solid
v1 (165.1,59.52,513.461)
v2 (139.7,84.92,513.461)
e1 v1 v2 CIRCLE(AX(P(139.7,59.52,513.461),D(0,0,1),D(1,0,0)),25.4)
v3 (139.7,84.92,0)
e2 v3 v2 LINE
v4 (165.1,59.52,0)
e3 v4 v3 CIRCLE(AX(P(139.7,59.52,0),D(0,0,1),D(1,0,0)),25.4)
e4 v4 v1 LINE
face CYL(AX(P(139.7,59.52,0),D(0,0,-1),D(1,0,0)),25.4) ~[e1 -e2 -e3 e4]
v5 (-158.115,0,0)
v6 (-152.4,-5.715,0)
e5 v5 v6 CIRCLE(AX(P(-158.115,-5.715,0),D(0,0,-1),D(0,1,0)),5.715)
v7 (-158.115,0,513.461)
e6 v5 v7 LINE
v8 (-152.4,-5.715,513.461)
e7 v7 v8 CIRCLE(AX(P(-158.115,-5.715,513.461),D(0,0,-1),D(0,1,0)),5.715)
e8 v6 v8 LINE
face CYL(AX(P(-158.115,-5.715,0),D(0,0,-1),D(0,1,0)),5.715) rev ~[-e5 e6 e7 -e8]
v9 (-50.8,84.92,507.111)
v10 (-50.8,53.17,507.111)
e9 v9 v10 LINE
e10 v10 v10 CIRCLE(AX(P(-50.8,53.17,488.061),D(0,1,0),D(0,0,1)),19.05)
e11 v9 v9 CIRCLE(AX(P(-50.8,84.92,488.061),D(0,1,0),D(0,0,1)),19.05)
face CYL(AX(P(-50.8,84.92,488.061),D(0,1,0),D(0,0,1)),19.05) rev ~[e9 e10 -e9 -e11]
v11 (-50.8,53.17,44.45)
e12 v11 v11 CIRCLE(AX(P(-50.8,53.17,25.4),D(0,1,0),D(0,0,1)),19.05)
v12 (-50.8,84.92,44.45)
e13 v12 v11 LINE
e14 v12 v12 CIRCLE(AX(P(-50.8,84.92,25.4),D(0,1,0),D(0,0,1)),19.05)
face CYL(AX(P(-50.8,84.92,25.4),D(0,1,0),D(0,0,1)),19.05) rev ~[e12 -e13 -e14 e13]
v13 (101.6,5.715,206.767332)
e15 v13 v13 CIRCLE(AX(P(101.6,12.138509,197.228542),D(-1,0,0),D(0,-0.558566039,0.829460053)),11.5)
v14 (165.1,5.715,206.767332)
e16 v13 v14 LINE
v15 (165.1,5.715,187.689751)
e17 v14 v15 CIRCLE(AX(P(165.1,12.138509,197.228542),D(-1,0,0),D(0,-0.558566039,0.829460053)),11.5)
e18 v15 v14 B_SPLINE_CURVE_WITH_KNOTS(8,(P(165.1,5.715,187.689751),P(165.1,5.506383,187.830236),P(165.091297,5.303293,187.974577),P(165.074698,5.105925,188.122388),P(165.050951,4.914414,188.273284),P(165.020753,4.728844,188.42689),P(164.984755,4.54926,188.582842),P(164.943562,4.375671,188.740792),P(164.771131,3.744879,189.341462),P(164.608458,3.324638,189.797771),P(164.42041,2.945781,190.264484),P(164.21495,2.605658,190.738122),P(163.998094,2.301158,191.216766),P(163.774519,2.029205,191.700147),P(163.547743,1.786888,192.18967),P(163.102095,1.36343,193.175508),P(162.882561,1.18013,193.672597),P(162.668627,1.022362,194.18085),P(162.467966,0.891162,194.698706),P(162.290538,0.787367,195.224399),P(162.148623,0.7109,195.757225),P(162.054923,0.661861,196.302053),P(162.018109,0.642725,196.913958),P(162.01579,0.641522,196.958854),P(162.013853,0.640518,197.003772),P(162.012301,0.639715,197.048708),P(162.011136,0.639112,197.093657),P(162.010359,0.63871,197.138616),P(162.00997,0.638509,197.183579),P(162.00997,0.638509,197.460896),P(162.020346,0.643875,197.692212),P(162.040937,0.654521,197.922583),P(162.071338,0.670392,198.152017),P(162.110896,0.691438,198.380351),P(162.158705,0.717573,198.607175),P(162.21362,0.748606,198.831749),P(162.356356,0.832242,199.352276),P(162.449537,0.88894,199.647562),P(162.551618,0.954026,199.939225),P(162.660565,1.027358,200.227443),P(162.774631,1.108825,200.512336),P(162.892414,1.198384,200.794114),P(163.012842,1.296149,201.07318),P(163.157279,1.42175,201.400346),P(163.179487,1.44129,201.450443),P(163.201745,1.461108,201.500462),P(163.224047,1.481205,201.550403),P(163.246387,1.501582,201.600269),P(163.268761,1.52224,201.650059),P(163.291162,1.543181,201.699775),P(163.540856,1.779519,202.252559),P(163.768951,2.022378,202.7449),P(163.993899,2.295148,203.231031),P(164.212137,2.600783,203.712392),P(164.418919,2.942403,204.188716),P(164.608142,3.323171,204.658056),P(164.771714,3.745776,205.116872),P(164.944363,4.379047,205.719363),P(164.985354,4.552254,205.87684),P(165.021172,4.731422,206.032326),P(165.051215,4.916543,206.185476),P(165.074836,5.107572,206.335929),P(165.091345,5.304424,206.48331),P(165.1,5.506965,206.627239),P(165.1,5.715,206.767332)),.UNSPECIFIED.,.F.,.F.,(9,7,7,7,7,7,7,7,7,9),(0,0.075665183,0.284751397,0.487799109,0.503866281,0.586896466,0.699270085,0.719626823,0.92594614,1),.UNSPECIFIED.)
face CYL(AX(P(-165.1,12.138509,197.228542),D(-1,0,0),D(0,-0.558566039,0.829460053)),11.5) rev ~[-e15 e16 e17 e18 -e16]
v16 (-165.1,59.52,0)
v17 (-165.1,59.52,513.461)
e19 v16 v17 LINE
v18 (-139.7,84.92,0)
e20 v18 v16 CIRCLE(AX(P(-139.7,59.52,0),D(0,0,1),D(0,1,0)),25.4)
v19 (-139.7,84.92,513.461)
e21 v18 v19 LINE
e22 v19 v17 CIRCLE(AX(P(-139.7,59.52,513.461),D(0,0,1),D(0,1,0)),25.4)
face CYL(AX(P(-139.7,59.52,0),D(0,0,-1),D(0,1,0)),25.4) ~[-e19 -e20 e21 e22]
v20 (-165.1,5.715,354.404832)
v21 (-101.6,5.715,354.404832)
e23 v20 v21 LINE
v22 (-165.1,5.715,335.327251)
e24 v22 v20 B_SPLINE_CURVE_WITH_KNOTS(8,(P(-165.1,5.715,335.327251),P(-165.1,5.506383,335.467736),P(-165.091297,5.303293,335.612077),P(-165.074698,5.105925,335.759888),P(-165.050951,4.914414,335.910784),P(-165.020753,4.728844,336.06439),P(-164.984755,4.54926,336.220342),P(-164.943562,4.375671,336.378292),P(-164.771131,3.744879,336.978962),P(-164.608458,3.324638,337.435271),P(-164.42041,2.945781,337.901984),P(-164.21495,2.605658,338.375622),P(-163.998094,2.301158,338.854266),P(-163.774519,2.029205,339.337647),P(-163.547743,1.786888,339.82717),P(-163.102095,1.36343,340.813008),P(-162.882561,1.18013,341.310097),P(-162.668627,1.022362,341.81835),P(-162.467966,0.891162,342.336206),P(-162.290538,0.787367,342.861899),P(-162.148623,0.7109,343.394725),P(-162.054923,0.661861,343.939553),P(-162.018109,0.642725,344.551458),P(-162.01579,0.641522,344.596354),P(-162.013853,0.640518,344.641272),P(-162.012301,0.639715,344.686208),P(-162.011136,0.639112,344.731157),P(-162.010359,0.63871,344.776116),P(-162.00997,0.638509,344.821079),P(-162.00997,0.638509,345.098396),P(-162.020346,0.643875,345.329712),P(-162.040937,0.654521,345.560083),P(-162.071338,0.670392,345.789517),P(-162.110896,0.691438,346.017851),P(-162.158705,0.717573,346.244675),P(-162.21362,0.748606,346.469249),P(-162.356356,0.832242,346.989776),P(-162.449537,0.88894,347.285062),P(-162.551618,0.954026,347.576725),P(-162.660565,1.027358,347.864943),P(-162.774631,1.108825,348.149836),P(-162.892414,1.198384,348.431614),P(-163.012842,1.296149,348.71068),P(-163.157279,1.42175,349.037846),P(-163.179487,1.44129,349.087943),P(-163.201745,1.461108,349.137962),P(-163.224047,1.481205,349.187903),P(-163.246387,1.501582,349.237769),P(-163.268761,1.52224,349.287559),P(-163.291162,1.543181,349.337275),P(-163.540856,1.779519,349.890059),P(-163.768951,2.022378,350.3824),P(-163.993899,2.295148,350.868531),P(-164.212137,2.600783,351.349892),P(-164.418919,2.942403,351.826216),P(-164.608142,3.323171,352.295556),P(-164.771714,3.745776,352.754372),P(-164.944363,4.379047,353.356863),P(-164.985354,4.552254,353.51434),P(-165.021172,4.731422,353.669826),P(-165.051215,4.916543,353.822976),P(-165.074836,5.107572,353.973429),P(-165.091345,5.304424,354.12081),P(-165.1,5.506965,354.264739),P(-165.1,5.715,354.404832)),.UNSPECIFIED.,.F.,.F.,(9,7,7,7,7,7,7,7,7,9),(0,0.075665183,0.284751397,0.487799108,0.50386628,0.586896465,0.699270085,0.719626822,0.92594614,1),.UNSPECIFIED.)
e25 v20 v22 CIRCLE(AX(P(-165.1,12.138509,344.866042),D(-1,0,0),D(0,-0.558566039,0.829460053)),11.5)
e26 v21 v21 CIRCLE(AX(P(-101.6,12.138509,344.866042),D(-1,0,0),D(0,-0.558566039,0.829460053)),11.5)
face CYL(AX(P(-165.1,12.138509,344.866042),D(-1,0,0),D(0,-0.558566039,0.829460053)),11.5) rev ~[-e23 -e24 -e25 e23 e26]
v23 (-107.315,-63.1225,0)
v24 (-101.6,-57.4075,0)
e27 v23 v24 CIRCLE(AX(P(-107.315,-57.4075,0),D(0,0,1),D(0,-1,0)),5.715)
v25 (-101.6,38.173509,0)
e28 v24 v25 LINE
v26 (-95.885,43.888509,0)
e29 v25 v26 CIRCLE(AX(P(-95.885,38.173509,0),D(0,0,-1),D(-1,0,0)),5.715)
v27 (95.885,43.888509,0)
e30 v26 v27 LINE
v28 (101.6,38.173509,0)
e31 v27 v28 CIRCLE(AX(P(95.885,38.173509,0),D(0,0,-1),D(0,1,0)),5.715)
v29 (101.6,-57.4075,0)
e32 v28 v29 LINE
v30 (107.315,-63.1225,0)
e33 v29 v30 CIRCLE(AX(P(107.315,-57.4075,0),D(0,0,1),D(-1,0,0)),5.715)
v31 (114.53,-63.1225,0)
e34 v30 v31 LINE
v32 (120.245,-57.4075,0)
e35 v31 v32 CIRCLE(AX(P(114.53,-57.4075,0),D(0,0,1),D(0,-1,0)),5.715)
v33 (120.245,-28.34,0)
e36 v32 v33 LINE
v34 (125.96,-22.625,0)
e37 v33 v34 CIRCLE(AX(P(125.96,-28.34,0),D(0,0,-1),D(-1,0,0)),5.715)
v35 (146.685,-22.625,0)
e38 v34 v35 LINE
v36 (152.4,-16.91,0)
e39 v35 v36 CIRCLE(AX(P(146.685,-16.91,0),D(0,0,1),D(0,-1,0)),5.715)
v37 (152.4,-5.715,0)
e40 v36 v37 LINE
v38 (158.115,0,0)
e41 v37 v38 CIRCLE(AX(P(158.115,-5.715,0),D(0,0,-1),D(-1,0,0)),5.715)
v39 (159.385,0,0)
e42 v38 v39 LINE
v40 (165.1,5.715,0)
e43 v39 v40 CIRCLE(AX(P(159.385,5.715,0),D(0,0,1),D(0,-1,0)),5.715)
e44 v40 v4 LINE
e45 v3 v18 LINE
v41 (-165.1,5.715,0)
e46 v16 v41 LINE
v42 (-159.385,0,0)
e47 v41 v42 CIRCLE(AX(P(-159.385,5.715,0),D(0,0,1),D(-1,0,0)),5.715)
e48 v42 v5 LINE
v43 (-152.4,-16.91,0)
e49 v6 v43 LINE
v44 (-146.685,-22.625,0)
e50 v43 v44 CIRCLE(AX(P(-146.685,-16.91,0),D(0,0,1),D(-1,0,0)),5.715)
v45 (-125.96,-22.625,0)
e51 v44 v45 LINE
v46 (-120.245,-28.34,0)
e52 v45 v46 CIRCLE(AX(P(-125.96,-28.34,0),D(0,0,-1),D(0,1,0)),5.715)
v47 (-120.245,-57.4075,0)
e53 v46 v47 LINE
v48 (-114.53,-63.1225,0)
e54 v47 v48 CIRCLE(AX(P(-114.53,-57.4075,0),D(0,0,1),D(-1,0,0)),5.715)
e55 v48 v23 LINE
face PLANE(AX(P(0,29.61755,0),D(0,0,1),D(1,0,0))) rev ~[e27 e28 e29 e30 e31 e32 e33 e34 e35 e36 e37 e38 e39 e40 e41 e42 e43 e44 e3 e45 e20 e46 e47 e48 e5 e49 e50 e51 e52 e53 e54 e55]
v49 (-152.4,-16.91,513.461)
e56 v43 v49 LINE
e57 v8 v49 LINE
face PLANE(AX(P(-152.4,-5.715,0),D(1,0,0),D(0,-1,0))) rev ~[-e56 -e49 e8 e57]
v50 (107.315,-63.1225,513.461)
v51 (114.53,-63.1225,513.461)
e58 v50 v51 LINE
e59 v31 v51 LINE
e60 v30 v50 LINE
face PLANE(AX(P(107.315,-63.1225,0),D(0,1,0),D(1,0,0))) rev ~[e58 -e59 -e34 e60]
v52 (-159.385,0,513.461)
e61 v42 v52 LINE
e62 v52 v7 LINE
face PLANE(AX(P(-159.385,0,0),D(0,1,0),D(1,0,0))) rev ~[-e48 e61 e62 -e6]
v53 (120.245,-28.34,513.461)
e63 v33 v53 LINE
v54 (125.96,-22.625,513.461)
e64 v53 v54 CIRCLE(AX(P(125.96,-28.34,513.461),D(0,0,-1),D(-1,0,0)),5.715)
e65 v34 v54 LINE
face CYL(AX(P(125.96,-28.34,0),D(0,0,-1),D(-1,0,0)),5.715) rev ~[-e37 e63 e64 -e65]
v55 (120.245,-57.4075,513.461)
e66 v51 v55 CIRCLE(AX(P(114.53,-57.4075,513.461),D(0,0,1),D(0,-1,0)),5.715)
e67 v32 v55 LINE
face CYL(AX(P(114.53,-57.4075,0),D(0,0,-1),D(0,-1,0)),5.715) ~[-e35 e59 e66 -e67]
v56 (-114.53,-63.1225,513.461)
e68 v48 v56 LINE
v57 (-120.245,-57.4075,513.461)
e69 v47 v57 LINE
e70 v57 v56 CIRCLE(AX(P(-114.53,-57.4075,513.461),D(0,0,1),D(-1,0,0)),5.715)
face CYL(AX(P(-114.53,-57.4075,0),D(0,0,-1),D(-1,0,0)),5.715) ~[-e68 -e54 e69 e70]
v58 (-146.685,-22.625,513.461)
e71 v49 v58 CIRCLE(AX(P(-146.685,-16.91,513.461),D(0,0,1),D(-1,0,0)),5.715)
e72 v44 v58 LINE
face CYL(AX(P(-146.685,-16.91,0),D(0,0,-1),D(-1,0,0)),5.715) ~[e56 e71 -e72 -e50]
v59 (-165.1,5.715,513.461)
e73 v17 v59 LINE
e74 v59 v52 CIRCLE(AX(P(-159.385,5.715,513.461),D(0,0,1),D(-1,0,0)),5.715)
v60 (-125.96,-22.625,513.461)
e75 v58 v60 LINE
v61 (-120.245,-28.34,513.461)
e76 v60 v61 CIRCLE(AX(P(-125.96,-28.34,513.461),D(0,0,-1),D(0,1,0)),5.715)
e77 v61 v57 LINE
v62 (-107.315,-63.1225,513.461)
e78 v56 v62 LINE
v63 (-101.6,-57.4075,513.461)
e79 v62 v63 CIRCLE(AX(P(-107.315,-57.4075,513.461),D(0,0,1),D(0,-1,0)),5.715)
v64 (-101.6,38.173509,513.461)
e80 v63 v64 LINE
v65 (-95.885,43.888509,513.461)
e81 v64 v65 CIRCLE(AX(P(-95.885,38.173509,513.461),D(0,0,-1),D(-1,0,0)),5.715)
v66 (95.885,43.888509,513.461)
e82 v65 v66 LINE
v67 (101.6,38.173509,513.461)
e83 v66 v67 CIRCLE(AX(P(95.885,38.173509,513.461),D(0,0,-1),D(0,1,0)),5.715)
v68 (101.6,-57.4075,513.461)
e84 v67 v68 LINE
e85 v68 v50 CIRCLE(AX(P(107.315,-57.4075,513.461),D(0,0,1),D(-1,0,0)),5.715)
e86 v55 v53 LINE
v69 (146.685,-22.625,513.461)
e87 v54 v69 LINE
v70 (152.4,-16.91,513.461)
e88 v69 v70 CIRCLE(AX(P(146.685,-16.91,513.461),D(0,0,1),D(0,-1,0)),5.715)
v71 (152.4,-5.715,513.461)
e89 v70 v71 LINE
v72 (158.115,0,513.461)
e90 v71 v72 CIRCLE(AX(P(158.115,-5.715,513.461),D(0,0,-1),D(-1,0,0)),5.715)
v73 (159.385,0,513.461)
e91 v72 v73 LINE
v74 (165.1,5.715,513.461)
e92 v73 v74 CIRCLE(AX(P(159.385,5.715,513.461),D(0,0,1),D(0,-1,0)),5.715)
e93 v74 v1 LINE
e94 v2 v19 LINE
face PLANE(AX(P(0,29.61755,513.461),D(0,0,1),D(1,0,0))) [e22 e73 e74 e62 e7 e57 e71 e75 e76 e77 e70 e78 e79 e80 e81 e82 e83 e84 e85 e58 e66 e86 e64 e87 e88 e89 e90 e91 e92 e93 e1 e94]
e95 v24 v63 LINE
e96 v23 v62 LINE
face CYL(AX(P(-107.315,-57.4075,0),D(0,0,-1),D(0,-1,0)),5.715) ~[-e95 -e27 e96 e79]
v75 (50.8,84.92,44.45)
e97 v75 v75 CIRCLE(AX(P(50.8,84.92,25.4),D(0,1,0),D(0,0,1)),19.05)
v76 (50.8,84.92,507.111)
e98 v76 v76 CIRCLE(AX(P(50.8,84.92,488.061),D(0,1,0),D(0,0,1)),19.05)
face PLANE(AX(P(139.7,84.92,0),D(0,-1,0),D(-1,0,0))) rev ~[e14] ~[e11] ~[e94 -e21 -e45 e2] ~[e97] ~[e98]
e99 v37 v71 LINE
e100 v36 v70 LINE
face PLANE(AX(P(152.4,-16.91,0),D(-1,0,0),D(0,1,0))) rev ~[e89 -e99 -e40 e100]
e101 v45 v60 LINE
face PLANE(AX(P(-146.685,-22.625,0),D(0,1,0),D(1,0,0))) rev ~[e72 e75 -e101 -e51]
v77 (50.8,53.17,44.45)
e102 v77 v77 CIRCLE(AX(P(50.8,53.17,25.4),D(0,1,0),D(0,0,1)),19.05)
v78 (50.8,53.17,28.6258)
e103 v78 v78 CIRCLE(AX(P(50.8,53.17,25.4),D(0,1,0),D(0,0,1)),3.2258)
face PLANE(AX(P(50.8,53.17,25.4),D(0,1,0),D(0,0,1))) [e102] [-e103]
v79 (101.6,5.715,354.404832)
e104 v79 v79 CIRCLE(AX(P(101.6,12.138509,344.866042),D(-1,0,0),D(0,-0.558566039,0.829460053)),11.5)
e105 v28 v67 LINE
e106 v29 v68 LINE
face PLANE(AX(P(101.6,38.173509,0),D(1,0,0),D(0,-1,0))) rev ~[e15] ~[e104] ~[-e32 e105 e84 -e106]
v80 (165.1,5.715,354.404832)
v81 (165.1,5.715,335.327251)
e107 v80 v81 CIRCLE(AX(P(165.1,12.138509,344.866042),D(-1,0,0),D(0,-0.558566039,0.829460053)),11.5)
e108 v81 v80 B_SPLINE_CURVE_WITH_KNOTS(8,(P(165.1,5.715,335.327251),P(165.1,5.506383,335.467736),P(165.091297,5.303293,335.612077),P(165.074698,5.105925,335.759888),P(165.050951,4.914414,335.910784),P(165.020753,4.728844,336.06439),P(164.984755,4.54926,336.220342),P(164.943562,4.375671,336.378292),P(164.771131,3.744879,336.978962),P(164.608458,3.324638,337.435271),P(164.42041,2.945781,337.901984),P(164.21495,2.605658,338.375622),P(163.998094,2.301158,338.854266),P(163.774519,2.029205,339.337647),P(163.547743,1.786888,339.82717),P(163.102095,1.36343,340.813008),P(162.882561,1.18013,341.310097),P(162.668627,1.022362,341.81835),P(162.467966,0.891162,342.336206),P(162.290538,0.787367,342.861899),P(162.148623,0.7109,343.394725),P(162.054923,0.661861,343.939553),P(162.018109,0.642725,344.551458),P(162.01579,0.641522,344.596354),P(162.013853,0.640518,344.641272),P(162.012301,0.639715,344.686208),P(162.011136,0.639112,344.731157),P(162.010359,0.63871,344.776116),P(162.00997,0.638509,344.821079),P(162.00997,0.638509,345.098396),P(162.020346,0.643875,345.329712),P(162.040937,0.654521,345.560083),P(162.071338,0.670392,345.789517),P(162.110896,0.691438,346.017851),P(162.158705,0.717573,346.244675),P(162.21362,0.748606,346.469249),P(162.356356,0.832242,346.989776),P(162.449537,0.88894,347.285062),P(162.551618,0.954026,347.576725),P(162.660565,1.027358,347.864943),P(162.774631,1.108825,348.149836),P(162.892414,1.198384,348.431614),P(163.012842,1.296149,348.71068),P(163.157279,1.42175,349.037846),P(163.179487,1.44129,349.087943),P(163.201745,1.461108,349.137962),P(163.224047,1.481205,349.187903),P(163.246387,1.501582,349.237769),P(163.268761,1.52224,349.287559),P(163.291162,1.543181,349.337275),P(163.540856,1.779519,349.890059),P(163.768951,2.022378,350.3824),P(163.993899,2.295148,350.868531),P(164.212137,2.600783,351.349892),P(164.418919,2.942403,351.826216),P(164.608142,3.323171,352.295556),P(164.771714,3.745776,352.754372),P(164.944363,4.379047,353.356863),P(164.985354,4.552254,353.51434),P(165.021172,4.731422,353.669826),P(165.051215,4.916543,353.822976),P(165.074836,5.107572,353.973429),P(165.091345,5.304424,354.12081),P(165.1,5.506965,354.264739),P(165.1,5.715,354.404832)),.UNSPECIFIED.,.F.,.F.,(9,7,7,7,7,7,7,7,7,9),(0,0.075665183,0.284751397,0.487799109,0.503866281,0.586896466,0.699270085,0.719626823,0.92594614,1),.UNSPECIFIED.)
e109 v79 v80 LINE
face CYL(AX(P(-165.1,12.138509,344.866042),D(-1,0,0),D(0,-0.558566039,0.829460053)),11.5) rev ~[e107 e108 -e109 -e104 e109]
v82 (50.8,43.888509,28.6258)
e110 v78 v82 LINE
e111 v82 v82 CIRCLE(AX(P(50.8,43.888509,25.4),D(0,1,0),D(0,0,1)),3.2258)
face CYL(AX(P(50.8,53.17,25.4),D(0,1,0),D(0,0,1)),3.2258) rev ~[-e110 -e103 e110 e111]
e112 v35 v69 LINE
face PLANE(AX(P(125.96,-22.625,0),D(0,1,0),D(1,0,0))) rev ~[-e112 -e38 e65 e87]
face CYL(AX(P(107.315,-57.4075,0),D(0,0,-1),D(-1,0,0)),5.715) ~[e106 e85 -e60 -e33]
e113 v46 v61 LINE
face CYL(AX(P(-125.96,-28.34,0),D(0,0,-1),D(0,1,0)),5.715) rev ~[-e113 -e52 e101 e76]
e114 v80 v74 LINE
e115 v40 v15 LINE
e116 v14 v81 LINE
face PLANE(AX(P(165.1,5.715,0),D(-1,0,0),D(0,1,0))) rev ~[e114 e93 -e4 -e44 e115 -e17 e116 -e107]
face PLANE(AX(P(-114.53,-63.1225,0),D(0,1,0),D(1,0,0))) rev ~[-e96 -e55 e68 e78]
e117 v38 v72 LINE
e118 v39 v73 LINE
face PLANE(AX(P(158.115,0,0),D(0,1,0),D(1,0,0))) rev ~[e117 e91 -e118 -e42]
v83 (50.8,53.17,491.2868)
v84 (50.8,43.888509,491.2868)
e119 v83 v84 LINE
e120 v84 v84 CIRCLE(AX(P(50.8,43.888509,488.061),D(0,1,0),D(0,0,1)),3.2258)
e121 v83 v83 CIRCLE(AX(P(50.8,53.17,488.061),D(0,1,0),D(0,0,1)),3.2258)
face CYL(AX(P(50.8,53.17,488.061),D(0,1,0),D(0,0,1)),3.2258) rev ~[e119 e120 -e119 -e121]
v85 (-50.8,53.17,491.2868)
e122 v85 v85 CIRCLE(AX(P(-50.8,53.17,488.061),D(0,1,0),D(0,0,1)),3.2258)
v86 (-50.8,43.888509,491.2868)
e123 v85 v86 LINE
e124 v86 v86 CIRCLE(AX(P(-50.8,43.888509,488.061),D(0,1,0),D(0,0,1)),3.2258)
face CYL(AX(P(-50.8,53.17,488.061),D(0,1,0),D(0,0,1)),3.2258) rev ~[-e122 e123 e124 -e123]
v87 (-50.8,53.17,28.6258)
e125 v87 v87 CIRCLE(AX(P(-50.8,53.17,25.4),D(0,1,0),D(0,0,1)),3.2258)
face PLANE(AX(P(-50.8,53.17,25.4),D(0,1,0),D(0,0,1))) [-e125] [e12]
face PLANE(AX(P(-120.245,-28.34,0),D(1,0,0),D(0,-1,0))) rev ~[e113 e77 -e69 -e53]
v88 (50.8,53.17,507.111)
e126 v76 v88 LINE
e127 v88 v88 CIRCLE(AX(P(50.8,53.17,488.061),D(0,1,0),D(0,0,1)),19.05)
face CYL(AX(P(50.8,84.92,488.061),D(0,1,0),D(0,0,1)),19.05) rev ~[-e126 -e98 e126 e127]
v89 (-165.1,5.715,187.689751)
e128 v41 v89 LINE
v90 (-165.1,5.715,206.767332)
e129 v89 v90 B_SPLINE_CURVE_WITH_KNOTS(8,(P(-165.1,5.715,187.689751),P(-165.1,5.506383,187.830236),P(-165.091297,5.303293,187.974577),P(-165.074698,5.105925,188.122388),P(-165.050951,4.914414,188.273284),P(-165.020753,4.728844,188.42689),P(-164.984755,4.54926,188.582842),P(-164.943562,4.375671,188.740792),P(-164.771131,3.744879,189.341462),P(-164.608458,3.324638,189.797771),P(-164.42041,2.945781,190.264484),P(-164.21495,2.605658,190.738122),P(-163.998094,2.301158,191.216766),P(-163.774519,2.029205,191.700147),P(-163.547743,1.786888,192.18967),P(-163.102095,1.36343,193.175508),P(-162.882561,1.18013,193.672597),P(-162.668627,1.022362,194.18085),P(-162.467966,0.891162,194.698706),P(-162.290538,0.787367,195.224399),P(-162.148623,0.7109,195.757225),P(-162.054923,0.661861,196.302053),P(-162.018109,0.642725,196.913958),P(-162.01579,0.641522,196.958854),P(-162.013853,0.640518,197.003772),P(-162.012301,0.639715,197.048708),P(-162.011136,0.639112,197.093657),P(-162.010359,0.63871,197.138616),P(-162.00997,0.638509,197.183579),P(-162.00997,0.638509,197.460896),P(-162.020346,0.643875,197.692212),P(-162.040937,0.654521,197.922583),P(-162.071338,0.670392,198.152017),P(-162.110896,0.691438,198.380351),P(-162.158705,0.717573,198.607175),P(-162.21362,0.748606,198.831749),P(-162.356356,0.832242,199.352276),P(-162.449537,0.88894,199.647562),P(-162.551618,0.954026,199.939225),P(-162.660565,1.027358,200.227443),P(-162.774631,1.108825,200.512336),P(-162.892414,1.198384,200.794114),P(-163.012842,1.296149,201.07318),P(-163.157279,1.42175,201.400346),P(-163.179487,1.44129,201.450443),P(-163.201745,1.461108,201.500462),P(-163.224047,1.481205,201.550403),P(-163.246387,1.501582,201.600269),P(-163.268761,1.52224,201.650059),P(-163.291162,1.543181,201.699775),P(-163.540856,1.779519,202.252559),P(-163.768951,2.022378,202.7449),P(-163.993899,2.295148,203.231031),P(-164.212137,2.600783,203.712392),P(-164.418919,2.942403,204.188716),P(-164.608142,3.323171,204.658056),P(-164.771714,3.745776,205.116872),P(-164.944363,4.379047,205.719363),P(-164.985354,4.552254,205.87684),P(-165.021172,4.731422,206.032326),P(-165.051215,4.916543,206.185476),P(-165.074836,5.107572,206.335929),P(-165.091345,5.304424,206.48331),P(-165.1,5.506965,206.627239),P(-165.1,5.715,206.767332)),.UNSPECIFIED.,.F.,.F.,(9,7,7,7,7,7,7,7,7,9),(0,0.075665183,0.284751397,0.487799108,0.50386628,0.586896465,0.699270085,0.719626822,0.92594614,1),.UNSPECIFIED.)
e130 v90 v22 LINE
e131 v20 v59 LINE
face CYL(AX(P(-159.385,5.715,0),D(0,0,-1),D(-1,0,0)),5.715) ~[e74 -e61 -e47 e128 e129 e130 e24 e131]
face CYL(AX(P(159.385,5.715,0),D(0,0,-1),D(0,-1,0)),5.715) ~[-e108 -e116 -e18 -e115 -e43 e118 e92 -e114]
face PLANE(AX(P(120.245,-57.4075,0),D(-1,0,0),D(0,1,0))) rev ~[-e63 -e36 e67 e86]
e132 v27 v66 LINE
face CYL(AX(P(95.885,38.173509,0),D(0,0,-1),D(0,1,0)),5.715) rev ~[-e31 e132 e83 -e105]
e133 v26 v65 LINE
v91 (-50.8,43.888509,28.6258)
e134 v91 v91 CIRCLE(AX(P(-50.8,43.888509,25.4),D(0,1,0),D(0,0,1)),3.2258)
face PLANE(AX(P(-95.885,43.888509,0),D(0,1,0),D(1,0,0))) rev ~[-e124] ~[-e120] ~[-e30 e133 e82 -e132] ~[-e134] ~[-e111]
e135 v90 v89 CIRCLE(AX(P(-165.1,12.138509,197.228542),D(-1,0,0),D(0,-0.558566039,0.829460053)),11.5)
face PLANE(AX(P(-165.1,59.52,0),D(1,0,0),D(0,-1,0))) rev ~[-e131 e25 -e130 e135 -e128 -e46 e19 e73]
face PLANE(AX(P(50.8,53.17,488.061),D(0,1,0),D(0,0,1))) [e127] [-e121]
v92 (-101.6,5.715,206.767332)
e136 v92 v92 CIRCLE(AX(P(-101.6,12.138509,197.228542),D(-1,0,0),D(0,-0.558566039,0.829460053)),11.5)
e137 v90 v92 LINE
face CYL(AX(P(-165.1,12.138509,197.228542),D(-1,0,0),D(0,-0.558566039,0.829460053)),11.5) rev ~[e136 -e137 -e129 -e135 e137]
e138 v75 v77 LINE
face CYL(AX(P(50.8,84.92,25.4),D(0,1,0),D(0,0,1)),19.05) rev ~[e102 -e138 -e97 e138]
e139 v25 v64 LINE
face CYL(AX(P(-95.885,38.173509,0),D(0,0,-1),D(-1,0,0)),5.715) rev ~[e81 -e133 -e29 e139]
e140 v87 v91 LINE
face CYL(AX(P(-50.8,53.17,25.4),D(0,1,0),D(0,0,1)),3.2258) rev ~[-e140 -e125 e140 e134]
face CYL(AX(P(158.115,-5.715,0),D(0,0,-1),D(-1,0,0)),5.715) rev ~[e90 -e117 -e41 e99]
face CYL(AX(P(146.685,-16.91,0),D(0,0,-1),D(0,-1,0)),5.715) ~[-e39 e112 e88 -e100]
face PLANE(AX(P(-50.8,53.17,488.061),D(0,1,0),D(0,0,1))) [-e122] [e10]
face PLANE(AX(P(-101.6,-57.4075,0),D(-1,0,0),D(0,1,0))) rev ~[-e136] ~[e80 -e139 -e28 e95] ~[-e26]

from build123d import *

# Parameters (mm, degrees)
BOSS_EXTRUDE1_DEPTH = 513.461
SKETCH2_R           = 19.05
CUT_EXTRUDE1_DEPTH  = 31.75
SKETCH3_R           = 3.2258
CUT_EXTRUDE2_DEPTH  = 31.75
SKETCH4_R           = 11.500000003
CUT_EXTRUDE3_DEPTH  = 499.872


with BuildPart() as part:
    # Sketch1 → Boss-Extrude1 (new body)
    with BuildSketch(Plane.XY):
        with BuildLine():
            ThreePointArc((-165.1, 5.715), (-163.426115254, 1.673884746), (-159.385, 0))
            Line((-159.385, 0), (-158.115, 0))
            ThreePointArc((-158.115, 0), (-154.073884746, -1.673884746), (-152.4, -5.715))
            Line((-152.4, -5.715), (-152.4, -16.91))
            ThreePointArc((-152.4, -16.91), (-150.726115254, -20.951115254), (-146.685, -22.625))
            Line((-146.685, -22.625), (-125.96, -22.625))
            ThreePointArc((-125.96, -22.625), (-121.918884746, -24.298884746), (-120.245, -28.34))
            Line((-120.245, -28.34), (-120.245, -57.40750012))
            ThreePointArc((-120.245, -57.40750012), (-118.571115254, -61.448615374), (-114.53, -63.12250012))
            Line((-114.53, -63.12250012), (-107.315, -63.12250012))
            ThreePointArc((-107.315, -63.12250012), (-103.273884746, -61.448615374), (-101.6, -57.40750012))
            Line((-101.6, -57.40750012), (-101.6, 0))
            Line((-101.6, 0), (-101.6, 38.17350945))
            ThreePointArc((-101.6, 38.17350945), (-99.926115254, 42.214624704), (-95.885, 43.88850945))
            Line((-95.885, 43.88850945), (95.885, 43.88850945))
            ThreePointArc((95.885, 43.88850945), (99.926115254, 42.214624704), (101.6, 38.17350945))
            Line((101.6, 38.17350945), (101.6, 0))
            Line((101.6, 0), (101.6, -57.40750012))
            ThreePointArc((101.6, -57.40750012), (103.273884746, -61.448615374), (107.315, -63.12250012))
            Line((107.315, -63.12250012), (114.53, -63.12250012))
            ThreePointArc((114.53, -63.12250012), (118.571115254, -61.448615374), (120.245, -57.40750012))
            Line((120.245, -57.40750012), (120.245, -28.34))
            ThreePointArc((120.245, -28.34), (121.918884746, -24.298884746), (125.96, -22.625))
            Line((125.96, -22.625), (146.685, -22.625))
            ThreePointArc((146.685, -22.625), (150.726115254, -20.951115254), (152.4, -16.91))
            Line((152.4, -16.91), (152.4, -5.715))
            ThreePointArc((152.4, -5.715), (154.073884746, -1.673884746), (158.115, 0))
            Line((158.115, 0), (159.385, 0))
            ThreePointArc((159.385, 0), (163.426115254, 1.673884746), (165.1, 5.715))
            Line((165.1, 5.715), (165.1, 59.52))
            ThreePointArc((165.1, 59.52), (157.660512242, 77.480512242), (139.7, 84.92))
            Line((139.7, 84.92), (-139.7, 84.92))
            ThreePointArc((-139.7, 84.92), (-157.660512242, 77.480512242), (-165.1, 59.52))
            Line((-165.1, 59.52), (-165.1, 5.715))
        make_face()
    extrude(amount=BOSS_EXTRUDE1_DEPTH)

    # Sketch2 → Cut-Extrude1 (cut)
    with BuildSketch(Plane(origin=(0, 84.92, 0), x_dir=(1, 0, 0), z_dir=(0, 1, 0))):
        with Locations((-50.8, -25.4)):
            Circle(SKETCH2_R)
        with Locations((50.8, -25.4)):
            Circle(SKETCH2_R)
        with Locations((50.8, -488.061)):
            Circle(SKETCH2_R)
        with Locations((-50.8, -488.061)):
            Circle(SKETCH2_R)
    extrude(amount=-CUT_EXTRUDE1_DEPTH, mode=Mode.SUBTRACT)

    # Sketch3 → Cut-Extrude2 (cut)
    with BuildSketch(Plane(origin=(0, 53.17, 0), x_dir=(1, 0, 0), z_dir=(0, 1, 0))):
        with Locations((-50.8, -25.4)):
            Circle(SKETCH3_R)
        with Locations((50.8, -25.4)):
            Circle(SKETCH3_R)
        with Locations((50.8, -488.061)):
            Circle(SKETCH3_R)
        with Locations((-50.8, -488.061)):
            Circle(SKETCH3_R)
    extrude(amount=-CUT_EXTRUDE2_DEPTH, mode=Mode.SUBTRACT)

    # Sketch4 → Cut-Extrude3 (cut)
    with BuildSketch(Plane.ZY.offset(165.1)):
        with Locations((344.866041788, 12.13850945)):
            Circle(SKETCH4_R)
        with Locations((197.228541788, 12.13850945)):
            Circle(SKETCH4_R)
    extrude(amount=-CUT_EXTRUDE3_DEPTH, mode=Mode.SUBTRACT)


solid = part.part
